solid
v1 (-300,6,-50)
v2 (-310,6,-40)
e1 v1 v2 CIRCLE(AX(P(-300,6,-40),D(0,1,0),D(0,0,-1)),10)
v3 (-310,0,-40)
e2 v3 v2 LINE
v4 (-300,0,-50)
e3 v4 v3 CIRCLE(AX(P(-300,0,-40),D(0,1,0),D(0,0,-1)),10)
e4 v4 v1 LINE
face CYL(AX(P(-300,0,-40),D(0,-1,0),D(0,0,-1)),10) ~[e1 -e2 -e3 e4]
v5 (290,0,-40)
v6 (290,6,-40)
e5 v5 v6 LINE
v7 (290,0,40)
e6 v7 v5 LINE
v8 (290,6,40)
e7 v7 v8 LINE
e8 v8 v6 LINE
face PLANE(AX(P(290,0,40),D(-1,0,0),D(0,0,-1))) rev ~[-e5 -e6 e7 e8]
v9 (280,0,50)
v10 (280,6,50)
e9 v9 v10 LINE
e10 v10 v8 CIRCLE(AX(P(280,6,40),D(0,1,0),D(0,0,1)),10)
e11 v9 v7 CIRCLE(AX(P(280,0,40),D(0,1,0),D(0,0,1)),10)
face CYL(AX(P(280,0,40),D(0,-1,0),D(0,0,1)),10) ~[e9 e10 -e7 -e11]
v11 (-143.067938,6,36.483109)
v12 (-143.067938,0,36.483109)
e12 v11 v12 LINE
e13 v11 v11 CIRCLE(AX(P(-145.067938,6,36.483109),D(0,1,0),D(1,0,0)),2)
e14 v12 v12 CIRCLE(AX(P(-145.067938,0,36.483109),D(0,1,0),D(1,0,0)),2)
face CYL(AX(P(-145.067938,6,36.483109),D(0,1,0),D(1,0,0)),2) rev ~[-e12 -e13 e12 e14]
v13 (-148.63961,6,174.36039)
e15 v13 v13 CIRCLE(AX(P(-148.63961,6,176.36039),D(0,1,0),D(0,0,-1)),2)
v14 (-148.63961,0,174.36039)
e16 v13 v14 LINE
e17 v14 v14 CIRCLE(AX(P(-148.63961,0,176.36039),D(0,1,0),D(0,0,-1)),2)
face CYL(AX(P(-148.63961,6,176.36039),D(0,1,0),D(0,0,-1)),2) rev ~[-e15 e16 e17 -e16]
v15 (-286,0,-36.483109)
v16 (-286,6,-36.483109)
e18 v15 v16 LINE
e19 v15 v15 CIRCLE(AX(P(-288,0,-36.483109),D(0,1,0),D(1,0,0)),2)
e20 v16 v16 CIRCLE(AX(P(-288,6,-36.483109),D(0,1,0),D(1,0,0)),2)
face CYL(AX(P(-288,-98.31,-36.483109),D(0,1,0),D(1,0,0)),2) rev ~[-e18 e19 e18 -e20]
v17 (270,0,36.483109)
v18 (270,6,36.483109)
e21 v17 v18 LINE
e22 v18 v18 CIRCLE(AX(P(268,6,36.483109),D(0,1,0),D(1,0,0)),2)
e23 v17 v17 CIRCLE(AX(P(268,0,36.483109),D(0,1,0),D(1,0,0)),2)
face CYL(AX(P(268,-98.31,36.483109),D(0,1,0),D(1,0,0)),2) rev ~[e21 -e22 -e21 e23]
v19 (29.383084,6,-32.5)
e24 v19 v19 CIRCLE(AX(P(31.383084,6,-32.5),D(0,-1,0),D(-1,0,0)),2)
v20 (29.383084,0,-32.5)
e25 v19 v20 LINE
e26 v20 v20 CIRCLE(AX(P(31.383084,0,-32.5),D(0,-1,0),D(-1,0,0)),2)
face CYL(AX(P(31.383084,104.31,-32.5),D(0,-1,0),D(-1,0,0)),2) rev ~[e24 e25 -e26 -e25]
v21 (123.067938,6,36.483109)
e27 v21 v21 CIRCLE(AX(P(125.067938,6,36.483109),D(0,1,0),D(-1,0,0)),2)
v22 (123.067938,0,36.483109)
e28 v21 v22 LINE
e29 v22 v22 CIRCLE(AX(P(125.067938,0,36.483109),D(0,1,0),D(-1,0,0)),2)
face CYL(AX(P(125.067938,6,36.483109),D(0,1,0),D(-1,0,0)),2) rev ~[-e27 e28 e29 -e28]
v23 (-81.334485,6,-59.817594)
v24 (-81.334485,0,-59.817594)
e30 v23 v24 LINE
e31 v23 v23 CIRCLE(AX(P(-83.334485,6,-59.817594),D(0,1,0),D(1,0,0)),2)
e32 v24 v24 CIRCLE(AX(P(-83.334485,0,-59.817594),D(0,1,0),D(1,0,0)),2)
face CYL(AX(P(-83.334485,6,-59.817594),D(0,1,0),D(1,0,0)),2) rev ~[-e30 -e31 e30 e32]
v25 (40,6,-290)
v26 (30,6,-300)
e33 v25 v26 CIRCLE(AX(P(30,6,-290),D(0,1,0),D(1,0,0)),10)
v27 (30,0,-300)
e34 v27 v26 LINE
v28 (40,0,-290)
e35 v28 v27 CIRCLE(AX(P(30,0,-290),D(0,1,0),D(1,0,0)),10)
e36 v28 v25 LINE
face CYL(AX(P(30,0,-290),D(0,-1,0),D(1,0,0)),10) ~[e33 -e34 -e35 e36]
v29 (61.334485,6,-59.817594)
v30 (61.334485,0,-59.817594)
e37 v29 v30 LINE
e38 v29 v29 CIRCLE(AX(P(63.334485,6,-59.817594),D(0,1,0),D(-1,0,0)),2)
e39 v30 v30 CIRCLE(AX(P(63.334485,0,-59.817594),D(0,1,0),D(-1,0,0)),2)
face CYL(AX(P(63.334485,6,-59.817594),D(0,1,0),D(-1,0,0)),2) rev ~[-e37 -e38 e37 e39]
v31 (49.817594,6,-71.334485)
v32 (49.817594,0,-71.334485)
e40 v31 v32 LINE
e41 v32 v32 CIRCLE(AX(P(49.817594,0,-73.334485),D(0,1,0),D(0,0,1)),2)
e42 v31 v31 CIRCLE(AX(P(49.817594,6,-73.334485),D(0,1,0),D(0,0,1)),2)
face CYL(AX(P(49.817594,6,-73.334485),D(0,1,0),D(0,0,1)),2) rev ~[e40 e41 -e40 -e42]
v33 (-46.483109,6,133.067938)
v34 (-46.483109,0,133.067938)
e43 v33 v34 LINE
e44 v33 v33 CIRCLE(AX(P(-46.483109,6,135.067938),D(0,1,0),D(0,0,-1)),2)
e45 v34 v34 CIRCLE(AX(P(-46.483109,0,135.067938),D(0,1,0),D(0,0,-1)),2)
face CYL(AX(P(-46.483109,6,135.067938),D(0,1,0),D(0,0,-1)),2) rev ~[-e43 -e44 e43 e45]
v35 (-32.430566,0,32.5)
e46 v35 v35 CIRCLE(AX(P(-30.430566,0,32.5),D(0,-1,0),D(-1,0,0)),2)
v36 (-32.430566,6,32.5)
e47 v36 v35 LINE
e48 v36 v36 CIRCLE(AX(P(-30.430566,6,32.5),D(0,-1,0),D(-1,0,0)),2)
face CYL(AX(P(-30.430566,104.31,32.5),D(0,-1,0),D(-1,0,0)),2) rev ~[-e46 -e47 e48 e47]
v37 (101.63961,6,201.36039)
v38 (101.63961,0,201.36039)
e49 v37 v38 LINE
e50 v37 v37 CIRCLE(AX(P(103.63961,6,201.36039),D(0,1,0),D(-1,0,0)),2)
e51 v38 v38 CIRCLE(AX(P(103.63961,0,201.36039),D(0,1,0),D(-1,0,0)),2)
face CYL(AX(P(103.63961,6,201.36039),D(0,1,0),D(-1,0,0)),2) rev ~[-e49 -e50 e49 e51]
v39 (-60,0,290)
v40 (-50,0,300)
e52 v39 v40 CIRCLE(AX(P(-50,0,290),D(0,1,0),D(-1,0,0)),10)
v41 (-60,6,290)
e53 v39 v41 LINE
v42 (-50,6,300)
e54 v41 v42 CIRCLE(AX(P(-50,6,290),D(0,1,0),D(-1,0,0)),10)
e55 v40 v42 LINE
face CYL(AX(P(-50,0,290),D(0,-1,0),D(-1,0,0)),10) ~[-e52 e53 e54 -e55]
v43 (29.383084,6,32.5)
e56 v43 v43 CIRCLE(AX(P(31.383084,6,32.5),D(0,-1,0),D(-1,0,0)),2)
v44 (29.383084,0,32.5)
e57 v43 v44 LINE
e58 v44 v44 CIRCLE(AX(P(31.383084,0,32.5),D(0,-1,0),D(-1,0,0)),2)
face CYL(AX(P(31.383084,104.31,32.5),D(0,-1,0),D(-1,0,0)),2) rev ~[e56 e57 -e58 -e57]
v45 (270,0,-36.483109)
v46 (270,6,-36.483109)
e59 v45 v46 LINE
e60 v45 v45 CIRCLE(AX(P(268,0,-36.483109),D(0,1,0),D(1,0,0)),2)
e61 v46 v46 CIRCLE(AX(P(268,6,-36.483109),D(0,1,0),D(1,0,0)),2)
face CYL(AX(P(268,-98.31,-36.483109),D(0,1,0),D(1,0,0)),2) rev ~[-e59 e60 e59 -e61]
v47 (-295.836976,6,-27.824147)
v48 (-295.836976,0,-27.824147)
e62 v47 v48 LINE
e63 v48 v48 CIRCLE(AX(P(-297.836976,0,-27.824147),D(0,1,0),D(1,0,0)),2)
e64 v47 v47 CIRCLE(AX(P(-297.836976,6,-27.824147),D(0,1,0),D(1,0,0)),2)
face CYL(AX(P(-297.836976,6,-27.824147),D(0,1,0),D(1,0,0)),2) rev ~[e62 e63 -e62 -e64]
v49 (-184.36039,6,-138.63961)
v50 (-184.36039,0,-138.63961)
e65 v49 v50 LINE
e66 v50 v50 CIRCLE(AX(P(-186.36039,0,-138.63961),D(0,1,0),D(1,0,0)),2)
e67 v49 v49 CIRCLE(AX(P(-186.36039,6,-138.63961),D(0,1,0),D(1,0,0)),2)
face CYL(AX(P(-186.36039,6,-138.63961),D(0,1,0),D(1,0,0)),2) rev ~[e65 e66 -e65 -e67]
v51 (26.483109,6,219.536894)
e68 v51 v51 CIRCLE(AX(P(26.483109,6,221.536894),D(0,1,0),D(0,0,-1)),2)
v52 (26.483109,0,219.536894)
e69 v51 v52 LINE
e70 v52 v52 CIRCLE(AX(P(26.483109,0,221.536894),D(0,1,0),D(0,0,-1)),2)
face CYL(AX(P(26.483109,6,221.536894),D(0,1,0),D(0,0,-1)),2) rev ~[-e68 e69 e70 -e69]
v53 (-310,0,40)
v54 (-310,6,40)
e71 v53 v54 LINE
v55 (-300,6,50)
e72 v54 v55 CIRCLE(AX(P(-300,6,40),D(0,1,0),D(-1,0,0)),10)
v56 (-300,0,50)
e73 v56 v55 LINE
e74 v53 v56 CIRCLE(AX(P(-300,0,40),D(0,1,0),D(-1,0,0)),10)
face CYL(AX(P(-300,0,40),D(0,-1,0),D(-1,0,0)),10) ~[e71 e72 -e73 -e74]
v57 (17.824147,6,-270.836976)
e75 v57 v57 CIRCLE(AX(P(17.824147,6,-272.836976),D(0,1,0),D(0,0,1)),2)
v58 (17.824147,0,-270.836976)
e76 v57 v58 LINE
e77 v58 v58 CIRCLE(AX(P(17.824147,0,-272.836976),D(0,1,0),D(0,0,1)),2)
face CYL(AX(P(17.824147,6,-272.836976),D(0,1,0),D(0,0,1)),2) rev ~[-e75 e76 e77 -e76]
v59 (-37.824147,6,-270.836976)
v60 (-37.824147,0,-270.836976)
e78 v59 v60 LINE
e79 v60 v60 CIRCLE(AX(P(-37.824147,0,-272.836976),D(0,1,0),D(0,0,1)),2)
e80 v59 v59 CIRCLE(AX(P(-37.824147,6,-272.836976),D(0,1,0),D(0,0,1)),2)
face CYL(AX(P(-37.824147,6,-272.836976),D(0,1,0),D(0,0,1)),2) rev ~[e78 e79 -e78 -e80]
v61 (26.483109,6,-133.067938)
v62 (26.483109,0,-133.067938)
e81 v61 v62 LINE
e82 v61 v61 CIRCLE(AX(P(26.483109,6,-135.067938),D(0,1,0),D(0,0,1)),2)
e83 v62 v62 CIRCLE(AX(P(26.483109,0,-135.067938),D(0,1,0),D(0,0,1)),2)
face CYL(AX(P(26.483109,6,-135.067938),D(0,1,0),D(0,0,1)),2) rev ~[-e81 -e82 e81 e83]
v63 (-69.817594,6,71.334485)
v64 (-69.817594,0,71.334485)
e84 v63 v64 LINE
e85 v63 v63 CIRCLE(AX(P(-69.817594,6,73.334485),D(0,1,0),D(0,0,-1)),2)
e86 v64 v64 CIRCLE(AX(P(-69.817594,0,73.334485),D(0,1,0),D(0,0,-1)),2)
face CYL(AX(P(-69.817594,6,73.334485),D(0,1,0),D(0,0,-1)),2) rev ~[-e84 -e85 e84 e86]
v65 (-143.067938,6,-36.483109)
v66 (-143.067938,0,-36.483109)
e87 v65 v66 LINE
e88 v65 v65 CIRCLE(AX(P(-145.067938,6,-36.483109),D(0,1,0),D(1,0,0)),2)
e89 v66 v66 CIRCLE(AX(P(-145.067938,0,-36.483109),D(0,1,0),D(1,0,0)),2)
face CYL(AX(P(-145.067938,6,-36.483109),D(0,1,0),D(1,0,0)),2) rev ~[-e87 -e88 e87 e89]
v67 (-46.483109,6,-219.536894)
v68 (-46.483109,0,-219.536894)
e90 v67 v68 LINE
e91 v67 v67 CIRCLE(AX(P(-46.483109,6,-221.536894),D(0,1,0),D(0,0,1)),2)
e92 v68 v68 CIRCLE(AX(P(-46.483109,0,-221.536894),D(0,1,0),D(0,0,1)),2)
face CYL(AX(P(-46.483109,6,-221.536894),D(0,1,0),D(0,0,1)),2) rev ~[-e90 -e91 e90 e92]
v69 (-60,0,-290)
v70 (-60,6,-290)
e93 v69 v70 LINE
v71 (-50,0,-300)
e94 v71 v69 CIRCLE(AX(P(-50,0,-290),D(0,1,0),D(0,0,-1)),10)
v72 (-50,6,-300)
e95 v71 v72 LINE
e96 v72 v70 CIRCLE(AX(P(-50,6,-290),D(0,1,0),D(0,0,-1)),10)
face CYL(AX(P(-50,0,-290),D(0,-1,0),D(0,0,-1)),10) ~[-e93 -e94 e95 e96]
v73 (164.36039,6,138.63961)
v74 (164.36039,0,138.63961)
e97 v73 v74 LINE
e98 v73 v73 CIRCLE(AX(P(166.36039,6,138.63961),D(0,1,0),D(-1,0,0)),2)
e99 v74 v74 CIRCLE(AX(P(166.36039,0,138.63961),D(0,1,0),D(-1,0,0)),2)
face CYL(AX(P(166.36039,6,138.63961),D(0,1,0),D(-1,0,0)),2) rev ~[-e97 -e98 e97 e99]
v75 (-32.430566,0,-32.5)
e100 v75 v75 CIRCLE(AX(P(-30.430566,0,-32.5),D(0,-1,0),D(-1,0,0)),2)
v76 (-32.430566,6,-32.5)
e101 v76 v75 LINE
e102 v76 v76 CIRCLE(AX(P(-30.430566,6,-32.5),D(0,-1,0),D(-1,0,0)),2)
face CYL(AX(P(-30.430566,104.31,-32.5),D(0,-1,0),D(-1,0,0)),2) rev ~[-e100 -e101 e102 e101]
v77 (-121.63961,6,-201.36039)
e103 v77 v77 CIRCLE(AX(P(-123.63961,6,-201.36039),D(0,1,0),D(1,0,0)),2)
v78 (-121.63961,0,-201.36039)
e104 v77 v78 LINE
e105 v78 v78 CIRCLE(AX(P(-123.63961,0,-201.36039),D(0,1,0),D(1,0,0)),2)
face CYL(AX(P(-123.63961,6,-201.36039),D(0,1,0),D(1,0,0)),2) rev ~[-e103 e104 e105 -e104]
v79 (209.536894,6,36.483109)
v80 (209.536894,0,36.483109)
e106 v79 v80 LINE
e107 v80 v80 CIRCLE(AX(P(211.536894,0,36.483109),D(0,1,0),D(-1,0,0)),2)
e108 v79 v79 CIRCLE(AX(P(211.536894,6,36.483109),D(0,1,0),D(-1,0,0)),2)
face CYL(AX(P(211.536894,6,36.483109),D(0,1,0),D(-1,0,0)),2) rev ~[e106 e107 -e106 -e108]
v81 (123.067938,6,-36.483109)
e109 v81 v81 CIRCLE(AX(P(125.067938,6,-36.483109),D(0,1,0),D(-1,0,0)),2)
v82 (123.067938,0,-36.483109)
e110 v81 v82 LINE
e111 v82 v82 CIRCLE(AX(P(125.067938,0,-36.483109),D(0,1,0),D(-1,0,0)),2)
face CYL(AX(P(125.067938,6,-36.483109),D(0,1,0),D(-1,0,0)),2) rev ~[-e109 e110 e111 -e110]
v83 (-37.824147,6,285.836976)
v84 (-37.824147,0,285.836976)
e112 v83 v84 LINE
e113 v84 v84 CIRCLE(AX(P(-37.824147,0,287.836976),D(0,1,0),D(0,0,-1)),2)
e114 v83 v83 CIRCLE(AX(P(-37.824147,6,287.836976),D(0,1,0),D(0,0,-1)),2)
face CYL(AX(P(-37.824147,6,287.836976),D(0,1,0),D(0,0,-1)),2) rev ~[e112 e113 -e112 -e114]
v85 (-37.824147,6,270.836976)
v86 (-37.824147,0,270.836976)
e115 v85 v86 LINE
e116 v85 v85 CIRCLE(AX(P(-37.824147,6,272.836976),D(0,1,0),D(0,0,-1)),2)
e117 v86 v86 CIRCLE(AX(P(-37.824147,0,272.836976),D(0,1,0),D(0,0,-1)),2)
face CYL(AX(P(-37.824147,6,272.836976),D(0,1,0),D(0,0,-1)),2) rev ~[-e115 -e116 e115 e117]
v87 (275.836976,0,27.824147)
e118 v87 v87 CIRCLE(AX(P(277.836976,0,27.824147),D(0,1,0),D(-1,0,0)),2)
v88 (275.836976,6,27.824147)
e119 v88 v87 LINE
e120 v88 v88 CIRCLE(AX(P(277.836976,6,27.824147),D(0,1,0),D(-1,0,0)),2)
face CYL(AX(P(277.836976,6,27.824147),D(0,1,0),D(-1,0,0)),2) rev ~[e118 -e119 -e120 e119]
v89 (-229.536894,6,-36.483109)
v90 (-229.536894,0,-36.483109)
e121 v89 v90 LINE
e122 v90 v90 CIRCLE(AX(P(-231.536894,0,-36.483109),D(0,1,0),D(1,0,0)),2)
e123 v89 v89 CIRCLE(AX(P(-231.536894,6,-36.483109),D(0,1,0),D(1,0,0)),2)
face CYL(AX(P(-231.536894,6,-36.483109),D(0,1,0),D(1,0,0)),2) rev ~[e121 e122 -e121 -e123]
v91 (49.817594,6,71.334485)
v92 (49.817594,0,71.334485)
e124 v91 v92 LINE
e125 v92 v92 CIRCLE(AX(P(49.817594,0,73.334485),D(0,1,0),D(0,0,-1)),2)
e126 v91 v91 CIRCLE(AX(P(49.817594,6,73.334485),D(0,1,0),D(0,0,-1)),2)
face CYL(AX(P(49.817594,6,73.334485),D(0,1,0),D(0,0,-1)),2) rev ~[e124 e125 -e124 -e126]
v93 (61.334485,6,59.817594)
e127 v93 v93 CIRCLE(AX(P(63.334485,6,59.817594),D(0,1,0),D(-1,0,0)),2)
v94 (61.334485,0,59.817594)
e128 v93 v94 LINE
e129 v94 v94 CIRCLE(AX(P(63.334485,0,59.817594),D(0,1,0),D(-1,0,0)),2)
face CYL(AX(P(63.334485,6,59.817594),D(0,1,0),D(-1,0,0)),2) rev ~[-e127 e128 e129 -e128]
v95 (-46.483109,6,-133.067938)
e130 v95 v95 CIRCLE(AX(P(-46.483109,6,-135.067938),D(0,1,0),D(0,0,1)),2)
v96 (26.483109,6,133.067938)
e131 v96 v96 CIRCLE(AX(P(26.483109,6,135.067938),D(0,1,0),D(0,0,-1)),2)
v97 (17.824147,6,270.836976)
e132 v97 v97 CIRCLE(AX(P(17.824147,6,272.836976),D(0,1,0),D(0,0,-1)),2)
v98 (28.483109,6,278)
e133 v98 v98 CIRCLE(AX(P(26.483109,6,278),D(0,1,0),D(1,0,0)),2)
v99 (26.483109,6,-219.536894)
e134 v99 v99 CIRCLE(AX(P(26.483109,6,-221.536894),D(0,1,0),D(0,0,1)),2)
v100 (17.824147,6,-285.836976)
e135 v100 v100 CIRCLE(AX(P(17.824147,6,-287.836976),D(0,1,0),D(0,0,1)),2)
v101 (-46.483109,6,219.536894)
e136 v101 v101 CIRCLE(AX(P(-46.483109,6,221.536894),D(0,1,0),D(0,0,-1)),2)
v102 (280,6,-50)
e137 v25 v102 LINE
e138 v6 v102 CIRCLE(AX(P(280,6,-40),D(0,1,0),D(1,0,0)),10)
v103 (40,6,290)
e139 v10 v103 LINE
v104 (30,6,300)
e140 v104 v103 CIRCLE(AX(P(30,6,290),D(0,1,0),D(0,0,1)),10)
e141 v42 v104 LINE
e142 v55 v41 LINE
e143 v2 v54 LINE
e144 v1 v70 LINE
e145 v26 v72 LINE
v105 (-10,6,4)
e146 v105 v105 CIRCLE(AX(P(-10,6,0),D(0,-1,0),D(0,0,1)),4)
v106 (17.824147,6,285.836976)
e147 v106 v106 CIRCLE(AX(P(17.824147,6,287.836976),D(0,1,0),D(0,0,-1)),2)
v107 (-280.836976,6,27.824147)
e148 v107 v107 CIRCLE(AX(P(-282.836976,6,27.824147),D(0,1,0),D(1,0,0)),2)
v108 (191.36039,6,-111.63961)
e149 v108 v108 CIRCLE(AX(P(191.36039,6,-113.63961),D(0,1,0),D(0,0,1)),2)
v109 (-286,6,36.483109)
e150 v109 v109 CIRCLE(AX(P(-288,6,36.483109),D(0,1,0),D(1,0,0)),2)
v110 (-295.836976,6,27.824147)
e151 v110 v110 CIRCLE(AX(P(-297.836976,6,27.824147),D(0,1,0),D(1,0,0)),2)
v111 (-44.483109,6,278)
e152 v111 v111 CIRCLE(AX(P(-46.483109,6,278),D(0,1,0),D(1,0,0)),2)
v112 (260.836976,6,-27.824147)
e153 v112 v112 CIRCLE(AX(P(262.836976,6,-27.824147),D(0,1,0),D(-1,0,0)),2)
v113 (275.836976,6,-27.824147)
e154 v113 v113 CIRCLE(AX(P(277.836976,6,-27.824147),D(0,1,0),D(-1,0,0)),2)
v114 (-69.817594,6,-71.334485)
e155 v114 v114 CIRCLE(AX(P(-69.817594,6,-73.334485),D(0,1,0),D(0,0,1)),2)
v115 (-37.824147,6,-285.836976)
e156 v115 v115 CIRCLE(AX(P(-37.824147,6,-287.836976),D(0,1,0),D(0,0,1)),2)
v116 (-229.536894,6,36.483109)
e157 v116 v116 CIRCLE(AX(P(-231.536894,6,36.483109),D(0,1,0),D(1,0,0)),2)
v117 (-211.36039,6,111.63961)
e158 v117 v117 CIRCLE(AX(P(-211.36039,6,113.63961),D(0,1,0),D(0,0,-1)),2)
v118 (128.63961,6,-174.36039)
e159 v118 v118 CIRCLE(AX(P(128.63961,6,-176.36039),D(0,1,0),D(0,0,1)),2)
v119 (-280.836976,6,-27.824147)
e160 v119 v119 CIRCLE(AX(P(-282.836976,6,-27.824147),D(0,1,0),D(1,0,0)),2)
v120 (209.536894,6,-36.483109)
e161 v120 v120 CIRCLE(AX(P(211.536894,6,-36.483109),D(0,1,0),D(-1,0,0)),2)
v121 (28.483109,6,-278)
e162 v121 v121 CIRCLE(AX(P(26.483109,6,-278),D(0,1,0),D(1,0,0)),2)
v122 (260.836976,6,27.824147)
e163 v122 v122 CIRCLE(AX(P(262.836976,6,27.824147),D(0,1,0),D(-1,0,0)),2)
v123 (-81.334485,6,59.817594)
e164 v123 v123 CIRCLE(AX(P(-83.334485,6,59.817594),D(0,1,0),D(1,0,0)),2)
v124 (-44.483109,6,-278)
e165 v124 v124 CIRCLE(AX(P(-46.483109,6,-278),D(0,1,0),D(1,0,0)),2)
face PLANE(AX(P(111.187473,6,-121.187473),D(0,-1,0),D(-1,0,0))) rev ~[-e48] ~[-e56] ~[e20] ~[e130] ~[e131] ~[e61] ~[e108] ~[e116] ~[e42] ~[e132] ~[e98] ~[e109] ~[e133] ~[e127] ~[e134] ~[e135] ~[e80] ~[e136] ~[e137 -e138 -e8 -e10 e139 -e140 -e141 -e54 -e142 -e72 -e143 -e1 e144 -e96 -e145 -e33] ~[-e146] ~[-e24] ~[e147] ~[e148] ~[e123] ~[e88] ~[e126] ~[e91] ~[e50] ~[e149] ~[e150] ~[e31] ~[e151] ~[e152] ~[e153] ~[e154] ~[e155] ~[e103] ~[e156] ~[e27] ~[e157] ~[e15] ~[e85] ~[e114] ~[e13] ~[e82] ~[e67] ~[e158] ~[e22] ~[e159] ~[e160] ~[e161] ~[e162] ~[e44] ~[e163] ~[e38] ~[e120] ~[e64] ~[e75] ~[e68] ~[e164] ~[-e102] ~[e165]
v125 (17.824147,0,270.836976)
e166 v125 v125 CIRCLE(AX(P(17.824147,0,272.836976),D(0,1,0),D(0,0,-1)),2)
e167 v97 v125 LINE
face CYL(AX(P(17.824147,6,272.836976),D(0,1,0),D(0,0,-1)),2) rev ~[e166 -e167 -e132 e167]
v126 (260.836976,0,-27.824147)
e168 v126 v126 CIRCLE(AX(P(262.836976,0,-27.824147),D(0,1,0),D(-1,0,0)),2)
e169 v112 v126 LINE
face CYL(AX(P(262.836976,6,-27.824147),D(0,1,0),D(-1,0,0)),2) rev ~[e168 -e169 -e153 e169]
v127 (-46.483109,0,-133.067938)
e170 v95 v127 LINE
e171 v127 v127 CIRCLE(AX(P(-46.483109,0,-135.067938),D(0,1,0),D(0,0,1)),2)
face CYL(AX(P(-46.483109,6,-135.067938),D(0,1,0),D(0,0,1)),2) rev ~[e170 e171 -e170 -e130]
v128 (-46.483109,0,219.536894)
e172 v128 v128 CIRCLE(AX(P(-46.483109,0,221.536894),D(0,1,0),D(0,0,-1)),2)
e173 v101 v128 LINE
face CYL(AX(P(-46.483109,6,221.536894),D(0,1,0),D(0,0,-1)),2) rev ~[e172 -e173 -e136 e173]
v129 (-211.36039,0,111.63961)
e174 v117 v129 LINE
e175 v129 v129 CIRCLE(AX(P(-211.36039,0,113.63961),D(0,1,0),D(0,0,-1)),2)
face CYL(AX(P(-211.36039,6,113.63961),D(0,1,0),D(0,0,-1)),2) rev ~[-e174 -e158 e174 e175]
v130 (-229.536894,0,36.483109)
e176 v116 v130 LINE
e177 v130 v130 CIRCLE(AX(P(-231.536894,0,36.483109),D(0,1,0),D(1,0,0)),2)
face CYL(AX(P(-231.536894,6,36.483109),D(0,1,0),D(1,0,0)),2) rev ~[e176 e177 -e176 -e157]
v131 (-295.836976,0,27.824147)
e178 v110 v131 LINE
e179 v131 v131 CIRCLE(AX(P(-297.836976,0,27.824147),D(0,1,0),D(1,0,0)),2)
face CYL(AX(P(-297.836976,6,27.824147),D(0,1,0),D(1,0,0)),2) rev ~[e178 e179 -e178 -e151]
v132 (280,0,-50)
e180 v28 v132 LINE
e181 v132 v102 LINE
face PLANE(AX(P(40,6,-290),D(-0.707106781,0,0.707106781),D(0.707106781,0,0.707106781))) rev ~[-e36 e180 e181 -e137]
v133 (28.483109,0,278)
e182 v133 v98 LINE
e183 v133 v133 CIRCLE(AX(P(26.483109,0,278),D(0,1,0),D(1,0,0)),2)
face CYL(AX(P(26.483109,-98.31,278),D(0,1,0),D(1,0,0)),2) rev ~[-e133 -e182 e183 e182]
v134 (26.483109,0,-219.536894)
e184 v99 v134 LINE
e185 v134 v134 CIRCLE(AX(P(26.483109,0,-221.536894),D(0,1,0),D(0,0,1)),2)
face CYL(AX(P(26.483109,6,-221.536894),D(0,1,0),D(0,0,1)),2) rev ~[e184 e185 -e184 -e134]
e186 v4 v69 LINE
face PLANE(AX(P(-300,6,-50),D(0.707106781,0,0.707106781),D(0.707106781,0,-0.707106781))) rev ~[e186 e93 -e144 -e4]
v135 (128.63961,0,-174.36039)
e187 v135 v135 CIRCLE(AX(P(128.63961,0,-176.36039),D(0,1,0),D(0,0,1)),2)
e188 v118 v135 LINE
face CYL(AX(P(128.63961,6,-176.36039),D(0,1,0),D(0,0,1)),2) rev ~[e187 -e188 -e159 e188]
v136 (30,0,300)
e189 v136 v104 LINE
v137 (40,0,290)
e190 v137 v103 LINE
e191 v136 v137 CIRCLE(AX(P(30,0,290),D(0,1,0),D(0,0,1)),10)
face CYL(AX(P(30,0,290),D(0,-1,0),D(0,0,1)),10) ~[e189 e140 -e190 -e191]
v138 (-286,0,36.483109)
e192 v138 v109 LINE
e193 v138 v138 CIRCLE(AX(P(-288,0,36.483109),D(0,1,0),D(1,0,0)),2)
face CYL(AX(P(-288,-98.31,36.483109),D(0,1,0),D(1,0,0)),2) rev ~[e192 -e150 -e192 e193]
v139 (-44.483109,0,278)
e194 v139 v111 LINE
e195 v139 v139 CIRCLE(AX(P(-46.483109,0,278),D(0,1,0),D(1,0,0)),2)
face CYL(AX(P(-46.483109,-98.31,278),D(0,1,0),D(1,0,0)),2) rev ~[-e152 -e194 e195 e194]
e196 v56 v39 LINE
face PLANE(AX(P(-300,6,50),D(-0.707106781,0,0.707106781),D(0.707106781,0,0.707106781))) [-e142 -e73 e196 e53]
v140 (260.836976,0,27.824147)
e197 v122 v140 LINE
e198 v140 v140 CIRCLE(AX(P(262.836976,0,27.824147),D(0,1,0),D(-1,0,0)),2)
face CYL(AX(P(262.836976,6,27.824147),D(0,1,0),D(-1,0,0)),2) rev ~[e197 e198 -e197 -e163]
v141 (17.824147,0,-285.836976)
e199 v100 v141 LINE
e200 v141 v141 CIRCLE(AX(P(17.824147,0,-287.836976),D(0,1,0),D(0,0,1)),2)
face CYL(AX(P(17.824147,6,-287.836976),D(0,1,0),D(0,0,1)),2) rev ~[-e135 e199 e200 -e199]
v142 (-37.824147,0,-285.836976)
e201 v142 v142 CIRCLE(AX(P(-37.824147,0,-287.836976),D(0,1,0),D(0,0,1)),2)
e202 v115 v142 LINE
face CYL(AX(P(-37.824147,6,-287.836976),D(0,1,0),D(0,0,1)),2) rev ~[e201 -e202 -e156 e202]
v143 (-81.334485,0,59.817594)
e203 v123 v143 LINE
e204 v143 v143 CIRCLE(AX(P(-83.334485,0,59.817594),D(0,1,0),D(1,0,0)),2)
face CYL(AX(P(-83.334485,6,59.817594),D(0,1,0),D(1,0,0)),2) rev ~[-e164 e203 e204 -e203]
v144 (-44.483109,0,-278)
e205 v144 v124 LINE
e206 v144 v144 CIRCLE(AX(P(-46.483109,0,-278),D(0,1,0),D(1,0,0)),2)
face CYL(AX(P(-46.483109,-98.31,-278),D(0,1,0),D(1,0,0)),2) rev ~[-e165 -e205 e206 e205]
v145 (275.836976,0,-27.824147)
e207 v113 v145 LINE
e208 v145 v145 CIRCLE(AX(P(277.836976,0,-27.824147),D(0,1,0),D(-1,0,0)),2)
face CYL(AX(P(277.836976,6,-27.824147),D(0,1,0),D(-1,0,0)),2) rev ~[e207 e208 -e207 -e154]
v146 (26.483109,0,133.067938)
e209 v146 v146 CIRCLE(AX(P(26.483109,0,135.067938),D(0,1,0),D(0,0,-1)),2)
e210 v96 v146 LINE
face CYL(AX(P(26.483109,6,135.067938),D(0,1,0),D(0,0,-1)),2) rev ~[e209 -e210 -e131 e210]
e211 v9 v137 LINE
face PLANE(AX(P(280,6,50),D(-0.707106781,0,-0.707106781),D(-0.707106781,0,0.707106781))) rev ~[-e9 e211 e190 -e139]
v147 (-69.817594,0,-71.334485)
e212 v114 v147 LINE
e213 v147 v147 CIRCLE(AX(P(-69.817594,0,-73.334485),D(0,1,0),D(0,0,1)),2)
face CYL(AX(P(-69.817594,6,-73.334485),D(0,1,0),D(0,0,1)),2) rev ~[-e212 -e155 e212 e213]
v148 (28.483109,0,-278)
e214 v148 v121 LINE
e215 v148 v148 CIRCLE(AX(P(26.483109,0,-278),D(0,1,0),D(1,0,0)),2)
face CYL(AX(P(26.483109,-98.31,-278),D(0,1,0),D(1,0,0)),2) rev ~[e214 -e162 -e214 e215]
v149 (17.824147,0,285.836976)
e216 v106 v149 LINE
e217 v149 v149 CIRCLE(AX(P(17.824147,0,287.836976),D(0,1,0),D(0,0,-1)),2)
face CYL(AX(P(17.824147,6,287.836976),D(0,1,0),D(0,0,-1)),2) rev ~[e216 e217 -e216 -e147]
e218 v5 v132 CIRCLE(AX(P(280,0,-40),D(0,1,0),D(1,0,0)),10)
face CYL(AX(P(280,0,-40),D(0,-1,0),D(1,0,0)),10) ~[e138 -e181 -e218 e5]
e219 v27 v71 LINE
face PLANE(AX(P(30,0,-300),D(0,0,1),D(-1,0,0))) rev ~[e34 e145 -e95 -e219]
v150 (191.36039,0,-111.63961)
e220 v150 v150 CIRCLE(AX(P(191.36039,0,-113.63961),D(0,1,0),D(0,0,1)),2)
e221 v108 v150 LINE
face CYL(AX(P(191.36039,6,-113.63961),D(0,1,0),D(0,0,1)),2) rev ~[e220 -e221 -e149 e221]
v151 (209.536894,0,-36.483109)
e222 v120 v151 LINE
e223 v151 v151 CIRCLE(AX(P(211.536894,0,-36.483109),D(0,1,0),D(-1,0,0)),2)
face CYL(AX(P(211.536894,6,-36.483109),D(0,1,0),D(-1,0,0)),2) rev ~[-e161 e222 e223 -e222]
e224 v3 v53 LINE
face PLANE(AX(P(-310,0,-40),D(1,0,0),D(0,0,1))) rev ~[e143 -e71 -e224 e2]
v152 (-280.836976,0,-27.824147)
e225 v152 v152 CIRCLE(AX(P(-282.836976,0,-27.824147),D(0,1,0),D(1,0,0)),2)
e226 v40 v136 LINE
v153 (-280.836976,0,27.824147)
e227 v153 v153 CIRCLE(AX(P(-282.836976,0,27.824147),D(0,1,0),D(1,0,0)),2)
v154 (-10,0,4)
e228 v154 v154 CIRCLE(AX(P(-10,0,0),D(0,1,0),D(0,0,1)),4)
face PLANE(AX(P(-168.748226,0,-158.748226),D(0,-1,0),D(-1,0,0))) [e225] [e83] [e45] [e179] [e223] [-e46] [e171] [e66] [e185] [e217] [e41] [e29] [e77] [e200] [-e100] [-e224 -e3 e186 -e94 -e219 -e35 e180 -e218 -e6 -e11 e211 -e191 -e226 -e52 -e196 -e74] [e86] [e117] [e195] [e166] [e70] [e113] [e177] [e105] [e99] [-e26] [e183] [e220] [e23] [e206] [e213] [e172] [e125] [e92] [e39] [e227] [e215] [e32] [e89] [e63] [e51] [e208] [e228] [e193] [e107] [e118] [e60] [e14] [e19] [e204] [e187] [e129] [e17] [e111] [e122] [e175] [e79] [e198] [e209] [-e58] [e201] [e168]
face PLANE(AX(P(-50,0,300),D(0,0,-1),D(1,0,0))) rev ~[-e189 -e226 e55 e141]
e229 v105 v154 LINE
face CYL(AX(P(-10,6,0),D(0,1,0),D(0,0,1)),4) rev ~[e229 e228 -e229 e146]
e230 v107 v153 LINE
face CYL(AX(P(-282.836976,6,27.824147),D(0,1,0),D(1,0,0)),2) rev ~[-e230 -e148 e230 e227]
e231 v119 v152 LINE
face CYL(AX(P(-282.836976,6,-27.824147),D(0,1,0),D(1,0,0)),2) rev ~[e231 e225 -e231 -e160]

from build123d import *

# Parameters (mm, degrees)
BOSS_EXTRUDE1_DEPTH       = 6
SKETCH4_R                 = 0.495653738
CUT_EXTRUDE3_DEPTH        = 10
BOSS_EXTRUDE3_DEPTH       = 6
SKETCH6_R                 = 2
SKETCH6_R_2               = 4
CUT_EXTRUDE4_DEPTH        = 12
CIRPATTERN1_COUNT         = 4
BOSS_EXTRUDE4_DEPTH       = 6
F_4_0MM_DOWEL_HOLE4_D     = 4
F_4_0MM_DOWEL_HOLE4_DEPTH = 98.31
F_4_0MM_DOWEL_HOLE4_TIP   = 1.201721238
F_4_0MM_DOWEL_HOLE5_D     = 4
F_4_0MM_DOWEL_HOLE5_DEPTH = 98.31
F_4_0MM_DOWEL_HOLE5_TIP   = 1.201721238


with BuildPart() as part:
    # Sketch1 → Boss-Extrude1 (new body)
    with BuildSketch(Plane(origin=(0, 0, 0), x_dir=(1, 0, 0), z_dir=(0, 1, 0))):
        with BuildLine():
            Line((-110, 50), (-300, 50))
            ThreePointArc((-300, 50), (-307.071067812, 47.071067812), (-310, 40))
            Line((-310, 40), (-310, -40))
            ThreePointArc((-310, -40), (-307.071067812, -47.071067812), (-300, -50))
            Line((-300, -50), (-110, -50))
            Line((-110, -50), (-60, -100))
            Line((-60, -100), (-60, -290))
            ThreePointArc((-60, -290), (-57.071067812, -297.071067812), (-50, -300))
            Line((-50, -300), (30, -300))
            ThreePointArc((30, -300), (37.071067812, -297.071067812), (40, -290))
            Line((40, -290), (40, -100))
            Line((40, -100), (90, -50))
            Line((90, -50), (280, -50))
            ThreePointArc((280, -50), (287.071067812, -47.071067812), (290, -40))
            Line((290, -40), (290, 40))
            ThreePointArc((290, 40), (287.071067812, 47.071067812), (280, 50))
            Line((280, 50), (90, 50))
            Line((90, 50), (40, 100))
            Line((40, 100), (40, 290))
            ThreePointArc((40, 290), (37.071067812, 297.071067812), (30, 300))
            Line((30, 300), (-50, 300))
            ThreePointArc((-50, 300), (-57.071067812, 297.071067812), (-60, 290))
            Line((-60, 290), (-60, 100))
            Line((-60, 100), (-110, 50))
        make_face()
    extrude(amount=BOSS_EXTRUDE1_DEPTH)

    # Sketch4 → Cut-Extrude3 (cut)
    with BuildSketch(Plane(origin=(0, 6, 0), x_dir=(1, 0, 0), z_dir=(0, 1, 0))):
        with Locations(Location((-10, 0, 0), (0, 0, 270))):
            Circle(SKETCH4_R)
    extrude(amount=-CUT_EXTRUDE3_DEPTH, mode=Mode.SUBTRACT)

    # Sketch5 → Boss-Extrude3 (add)
    with BuildSketch(Plane(origin=(0, 6, 0), x_dir=(1, 0, 0), z_dir=(0, 1, 0))):
        Polygon((-300, 50), (-60, 290), (-60, 240), (-250, 50), align=None)
        Polygon((40, 290), (280, 50), (230, 50), (40, 240), align=None)
        Polygon((280, -50), (40, -290), (40, -240), (230, -49.07797178), align=None)
        Polygon((-300, -50), (-60, -290), (-60, -240), (-250, -50), align=None)
    extrude(amount=-BOSS_EXTRUDE3_DEPTH)

    # Sketch6 → Cut-Extrude4 (cut)
    with BuildSketch(Plane(origin=(0, 6, 0), x_dir=(1, 0, 0), z_dir=(0, 1, 0))):
        with Locations(Location((-37.824146891, 287.83697558, 0), (0, 0, 270))):
            Circle(SKETCH6_R)
        with Locations(Location((-37.824146891, 272.83697558, 0), (0, 0, 270))):
            Circle(SKETCH6_R)
        with Locations(Location((-46.483109463, 221.536893944, 0), (0, 0, 270))):
            Circle(SKETCH6_R)
        with Locations(Location((-46.483109463, 135.06793836, 0), (0, 0, 270))):
            Circle(SKETCH6_R)
        with Locations(Location((-69.817594081, 73.334484618, 0), (0, 0, 270))):
            Circle(SKETCH6_R)
        with Locations(Location((49.817594081, 73.334484618, 0), (0, 0, 270))):
            Circle(SKETCH6_R)
        with Locations(Location((26.483109463, 135.06793836, 0), (0, 0, 270))):
            Circle(SKETCH6_R)
        with Locations(Location((26.483109463, 221.536893944, 0), (0, 0, 270))):
            Circle(SKETCH6_R)
        with Locations(Location((191.360389693, 113.639610307, 0), (0, 0, 270))):
            Circle(SKETCH6_R)
        with Locations(Location((128.639610307, 176.360389693, 0), (0, 0, 270))):
            Circle(SKETCH6_R)
        with Locations(Location((17.824146891, 272.83697558, 0), (0, 0, 270))):
            Circle(SKETCH6_R)
        with Locations(Location((17.824146891, 287.83697558, 0), (0, 0, 270))):
            Circle(SKETCH6_R)
        with Locations(Location((-10, 0, 0), (0, 0, 270))):
            Circle(SKETCH6_R_2)
    cut_extrude4 = extrude(amount=-CUT_EXTRUDE4_DEPTH, mode=Mode.SUBTRACT)

    # CirPattern1: Cut-Extrude4 ×4 about axis
    cirpattern1_axis = Axis((-10, 0, 0), (0, 1, 0))
    for i in range(1, CIRPATTERN1_COUNT):
        add(cut_extrude4.rotate(cirpattern1_axis, i * 360 / CIRPATTERN1_COUNT), mode=Mode.SUBTRACT)

    # Sketch7 → Boss-Extrude4 (add)
    with BuildSketch(Plane(origin=(0, 6, 0), x_dir=(1, 0, 0), z_dir=(0, 1, 0))):
        Polygon((40, 240), (230, 50), (90, 50), (40, 100), align=None)
        Polygon((90, -50), (229.082424571, -50), (40, -240), (40, -100), align=None)
        Polygon((-60, 240), (-60, 100), (-110, 50), (-250, 50), align=None)
        Polygon((-110, -50), (-60, -100), (-60, -240), (-250, -50), align=None)
    extrude(amount=-BOSS_EXTRUDE4_DEPTH)

    # Ø4.0mm Dowel Hole4
    with Locations(Plane(origin=(0, 0, 0), x_dir=(-1, 0, 0), z_dir=(0, -1, 0))):
        with Locations((46.483109463, -278), (-26.483109463, -278), (-268, -36.483109463), (-268, 36.483109463), (-26.483109463, 278), (46.483109463, 278), (288, 36.483109463), (288, -36.483109463)):
            Hole(F_4_0MM_DOWEL_HOLE4_D / 2, depth=F_4_0MM_DOWEL_HOLE4_DEPTH)
            with Locations((0, 0, -(F_4_0MM_DOWEL_HOLE4_DEPTH + F_4_0MM_DOWEL_HOLE4_TIP / 2))):  # 118° drill point
                Cone(0, F_4_0MM_DOWEL_HOLE4_D / 2, F_4_0MM_DOWEL_HOLE4_TIP, mode=Mode.SUBTRACT)

    # Ø4.0mm Dowel Hole5
    with Locations(Plane(origin=(0, 6, 0), x_dir=(1, 0, 0), z_dir=(0, 1, 0))):
        with Locations((-30.430566073, -32.5), (31.383083735, -32.5), (31.383083735, 32.5), (-30.430566073, 32.5)):
            Hole(F_4_0MM_DOWEL_HOLE5_D / 2, depth=F_4_0MM_DOWEL_HOLE5_DEPTH)
            with Locations((0, 0, -(F_4_0MM_DOWEL_HOLE5_DEPTH + F_4_0MM_DOWEL_HOLE5_TIP / 2))):  # 118° drill point
                Cone(0, F_4_0MM_DOWEL_HOLE5_D / 2, F_4_0MM_DOWEL_HOLE5_TIP, mode=Mode.SUBTRACT)


solid = part.part
